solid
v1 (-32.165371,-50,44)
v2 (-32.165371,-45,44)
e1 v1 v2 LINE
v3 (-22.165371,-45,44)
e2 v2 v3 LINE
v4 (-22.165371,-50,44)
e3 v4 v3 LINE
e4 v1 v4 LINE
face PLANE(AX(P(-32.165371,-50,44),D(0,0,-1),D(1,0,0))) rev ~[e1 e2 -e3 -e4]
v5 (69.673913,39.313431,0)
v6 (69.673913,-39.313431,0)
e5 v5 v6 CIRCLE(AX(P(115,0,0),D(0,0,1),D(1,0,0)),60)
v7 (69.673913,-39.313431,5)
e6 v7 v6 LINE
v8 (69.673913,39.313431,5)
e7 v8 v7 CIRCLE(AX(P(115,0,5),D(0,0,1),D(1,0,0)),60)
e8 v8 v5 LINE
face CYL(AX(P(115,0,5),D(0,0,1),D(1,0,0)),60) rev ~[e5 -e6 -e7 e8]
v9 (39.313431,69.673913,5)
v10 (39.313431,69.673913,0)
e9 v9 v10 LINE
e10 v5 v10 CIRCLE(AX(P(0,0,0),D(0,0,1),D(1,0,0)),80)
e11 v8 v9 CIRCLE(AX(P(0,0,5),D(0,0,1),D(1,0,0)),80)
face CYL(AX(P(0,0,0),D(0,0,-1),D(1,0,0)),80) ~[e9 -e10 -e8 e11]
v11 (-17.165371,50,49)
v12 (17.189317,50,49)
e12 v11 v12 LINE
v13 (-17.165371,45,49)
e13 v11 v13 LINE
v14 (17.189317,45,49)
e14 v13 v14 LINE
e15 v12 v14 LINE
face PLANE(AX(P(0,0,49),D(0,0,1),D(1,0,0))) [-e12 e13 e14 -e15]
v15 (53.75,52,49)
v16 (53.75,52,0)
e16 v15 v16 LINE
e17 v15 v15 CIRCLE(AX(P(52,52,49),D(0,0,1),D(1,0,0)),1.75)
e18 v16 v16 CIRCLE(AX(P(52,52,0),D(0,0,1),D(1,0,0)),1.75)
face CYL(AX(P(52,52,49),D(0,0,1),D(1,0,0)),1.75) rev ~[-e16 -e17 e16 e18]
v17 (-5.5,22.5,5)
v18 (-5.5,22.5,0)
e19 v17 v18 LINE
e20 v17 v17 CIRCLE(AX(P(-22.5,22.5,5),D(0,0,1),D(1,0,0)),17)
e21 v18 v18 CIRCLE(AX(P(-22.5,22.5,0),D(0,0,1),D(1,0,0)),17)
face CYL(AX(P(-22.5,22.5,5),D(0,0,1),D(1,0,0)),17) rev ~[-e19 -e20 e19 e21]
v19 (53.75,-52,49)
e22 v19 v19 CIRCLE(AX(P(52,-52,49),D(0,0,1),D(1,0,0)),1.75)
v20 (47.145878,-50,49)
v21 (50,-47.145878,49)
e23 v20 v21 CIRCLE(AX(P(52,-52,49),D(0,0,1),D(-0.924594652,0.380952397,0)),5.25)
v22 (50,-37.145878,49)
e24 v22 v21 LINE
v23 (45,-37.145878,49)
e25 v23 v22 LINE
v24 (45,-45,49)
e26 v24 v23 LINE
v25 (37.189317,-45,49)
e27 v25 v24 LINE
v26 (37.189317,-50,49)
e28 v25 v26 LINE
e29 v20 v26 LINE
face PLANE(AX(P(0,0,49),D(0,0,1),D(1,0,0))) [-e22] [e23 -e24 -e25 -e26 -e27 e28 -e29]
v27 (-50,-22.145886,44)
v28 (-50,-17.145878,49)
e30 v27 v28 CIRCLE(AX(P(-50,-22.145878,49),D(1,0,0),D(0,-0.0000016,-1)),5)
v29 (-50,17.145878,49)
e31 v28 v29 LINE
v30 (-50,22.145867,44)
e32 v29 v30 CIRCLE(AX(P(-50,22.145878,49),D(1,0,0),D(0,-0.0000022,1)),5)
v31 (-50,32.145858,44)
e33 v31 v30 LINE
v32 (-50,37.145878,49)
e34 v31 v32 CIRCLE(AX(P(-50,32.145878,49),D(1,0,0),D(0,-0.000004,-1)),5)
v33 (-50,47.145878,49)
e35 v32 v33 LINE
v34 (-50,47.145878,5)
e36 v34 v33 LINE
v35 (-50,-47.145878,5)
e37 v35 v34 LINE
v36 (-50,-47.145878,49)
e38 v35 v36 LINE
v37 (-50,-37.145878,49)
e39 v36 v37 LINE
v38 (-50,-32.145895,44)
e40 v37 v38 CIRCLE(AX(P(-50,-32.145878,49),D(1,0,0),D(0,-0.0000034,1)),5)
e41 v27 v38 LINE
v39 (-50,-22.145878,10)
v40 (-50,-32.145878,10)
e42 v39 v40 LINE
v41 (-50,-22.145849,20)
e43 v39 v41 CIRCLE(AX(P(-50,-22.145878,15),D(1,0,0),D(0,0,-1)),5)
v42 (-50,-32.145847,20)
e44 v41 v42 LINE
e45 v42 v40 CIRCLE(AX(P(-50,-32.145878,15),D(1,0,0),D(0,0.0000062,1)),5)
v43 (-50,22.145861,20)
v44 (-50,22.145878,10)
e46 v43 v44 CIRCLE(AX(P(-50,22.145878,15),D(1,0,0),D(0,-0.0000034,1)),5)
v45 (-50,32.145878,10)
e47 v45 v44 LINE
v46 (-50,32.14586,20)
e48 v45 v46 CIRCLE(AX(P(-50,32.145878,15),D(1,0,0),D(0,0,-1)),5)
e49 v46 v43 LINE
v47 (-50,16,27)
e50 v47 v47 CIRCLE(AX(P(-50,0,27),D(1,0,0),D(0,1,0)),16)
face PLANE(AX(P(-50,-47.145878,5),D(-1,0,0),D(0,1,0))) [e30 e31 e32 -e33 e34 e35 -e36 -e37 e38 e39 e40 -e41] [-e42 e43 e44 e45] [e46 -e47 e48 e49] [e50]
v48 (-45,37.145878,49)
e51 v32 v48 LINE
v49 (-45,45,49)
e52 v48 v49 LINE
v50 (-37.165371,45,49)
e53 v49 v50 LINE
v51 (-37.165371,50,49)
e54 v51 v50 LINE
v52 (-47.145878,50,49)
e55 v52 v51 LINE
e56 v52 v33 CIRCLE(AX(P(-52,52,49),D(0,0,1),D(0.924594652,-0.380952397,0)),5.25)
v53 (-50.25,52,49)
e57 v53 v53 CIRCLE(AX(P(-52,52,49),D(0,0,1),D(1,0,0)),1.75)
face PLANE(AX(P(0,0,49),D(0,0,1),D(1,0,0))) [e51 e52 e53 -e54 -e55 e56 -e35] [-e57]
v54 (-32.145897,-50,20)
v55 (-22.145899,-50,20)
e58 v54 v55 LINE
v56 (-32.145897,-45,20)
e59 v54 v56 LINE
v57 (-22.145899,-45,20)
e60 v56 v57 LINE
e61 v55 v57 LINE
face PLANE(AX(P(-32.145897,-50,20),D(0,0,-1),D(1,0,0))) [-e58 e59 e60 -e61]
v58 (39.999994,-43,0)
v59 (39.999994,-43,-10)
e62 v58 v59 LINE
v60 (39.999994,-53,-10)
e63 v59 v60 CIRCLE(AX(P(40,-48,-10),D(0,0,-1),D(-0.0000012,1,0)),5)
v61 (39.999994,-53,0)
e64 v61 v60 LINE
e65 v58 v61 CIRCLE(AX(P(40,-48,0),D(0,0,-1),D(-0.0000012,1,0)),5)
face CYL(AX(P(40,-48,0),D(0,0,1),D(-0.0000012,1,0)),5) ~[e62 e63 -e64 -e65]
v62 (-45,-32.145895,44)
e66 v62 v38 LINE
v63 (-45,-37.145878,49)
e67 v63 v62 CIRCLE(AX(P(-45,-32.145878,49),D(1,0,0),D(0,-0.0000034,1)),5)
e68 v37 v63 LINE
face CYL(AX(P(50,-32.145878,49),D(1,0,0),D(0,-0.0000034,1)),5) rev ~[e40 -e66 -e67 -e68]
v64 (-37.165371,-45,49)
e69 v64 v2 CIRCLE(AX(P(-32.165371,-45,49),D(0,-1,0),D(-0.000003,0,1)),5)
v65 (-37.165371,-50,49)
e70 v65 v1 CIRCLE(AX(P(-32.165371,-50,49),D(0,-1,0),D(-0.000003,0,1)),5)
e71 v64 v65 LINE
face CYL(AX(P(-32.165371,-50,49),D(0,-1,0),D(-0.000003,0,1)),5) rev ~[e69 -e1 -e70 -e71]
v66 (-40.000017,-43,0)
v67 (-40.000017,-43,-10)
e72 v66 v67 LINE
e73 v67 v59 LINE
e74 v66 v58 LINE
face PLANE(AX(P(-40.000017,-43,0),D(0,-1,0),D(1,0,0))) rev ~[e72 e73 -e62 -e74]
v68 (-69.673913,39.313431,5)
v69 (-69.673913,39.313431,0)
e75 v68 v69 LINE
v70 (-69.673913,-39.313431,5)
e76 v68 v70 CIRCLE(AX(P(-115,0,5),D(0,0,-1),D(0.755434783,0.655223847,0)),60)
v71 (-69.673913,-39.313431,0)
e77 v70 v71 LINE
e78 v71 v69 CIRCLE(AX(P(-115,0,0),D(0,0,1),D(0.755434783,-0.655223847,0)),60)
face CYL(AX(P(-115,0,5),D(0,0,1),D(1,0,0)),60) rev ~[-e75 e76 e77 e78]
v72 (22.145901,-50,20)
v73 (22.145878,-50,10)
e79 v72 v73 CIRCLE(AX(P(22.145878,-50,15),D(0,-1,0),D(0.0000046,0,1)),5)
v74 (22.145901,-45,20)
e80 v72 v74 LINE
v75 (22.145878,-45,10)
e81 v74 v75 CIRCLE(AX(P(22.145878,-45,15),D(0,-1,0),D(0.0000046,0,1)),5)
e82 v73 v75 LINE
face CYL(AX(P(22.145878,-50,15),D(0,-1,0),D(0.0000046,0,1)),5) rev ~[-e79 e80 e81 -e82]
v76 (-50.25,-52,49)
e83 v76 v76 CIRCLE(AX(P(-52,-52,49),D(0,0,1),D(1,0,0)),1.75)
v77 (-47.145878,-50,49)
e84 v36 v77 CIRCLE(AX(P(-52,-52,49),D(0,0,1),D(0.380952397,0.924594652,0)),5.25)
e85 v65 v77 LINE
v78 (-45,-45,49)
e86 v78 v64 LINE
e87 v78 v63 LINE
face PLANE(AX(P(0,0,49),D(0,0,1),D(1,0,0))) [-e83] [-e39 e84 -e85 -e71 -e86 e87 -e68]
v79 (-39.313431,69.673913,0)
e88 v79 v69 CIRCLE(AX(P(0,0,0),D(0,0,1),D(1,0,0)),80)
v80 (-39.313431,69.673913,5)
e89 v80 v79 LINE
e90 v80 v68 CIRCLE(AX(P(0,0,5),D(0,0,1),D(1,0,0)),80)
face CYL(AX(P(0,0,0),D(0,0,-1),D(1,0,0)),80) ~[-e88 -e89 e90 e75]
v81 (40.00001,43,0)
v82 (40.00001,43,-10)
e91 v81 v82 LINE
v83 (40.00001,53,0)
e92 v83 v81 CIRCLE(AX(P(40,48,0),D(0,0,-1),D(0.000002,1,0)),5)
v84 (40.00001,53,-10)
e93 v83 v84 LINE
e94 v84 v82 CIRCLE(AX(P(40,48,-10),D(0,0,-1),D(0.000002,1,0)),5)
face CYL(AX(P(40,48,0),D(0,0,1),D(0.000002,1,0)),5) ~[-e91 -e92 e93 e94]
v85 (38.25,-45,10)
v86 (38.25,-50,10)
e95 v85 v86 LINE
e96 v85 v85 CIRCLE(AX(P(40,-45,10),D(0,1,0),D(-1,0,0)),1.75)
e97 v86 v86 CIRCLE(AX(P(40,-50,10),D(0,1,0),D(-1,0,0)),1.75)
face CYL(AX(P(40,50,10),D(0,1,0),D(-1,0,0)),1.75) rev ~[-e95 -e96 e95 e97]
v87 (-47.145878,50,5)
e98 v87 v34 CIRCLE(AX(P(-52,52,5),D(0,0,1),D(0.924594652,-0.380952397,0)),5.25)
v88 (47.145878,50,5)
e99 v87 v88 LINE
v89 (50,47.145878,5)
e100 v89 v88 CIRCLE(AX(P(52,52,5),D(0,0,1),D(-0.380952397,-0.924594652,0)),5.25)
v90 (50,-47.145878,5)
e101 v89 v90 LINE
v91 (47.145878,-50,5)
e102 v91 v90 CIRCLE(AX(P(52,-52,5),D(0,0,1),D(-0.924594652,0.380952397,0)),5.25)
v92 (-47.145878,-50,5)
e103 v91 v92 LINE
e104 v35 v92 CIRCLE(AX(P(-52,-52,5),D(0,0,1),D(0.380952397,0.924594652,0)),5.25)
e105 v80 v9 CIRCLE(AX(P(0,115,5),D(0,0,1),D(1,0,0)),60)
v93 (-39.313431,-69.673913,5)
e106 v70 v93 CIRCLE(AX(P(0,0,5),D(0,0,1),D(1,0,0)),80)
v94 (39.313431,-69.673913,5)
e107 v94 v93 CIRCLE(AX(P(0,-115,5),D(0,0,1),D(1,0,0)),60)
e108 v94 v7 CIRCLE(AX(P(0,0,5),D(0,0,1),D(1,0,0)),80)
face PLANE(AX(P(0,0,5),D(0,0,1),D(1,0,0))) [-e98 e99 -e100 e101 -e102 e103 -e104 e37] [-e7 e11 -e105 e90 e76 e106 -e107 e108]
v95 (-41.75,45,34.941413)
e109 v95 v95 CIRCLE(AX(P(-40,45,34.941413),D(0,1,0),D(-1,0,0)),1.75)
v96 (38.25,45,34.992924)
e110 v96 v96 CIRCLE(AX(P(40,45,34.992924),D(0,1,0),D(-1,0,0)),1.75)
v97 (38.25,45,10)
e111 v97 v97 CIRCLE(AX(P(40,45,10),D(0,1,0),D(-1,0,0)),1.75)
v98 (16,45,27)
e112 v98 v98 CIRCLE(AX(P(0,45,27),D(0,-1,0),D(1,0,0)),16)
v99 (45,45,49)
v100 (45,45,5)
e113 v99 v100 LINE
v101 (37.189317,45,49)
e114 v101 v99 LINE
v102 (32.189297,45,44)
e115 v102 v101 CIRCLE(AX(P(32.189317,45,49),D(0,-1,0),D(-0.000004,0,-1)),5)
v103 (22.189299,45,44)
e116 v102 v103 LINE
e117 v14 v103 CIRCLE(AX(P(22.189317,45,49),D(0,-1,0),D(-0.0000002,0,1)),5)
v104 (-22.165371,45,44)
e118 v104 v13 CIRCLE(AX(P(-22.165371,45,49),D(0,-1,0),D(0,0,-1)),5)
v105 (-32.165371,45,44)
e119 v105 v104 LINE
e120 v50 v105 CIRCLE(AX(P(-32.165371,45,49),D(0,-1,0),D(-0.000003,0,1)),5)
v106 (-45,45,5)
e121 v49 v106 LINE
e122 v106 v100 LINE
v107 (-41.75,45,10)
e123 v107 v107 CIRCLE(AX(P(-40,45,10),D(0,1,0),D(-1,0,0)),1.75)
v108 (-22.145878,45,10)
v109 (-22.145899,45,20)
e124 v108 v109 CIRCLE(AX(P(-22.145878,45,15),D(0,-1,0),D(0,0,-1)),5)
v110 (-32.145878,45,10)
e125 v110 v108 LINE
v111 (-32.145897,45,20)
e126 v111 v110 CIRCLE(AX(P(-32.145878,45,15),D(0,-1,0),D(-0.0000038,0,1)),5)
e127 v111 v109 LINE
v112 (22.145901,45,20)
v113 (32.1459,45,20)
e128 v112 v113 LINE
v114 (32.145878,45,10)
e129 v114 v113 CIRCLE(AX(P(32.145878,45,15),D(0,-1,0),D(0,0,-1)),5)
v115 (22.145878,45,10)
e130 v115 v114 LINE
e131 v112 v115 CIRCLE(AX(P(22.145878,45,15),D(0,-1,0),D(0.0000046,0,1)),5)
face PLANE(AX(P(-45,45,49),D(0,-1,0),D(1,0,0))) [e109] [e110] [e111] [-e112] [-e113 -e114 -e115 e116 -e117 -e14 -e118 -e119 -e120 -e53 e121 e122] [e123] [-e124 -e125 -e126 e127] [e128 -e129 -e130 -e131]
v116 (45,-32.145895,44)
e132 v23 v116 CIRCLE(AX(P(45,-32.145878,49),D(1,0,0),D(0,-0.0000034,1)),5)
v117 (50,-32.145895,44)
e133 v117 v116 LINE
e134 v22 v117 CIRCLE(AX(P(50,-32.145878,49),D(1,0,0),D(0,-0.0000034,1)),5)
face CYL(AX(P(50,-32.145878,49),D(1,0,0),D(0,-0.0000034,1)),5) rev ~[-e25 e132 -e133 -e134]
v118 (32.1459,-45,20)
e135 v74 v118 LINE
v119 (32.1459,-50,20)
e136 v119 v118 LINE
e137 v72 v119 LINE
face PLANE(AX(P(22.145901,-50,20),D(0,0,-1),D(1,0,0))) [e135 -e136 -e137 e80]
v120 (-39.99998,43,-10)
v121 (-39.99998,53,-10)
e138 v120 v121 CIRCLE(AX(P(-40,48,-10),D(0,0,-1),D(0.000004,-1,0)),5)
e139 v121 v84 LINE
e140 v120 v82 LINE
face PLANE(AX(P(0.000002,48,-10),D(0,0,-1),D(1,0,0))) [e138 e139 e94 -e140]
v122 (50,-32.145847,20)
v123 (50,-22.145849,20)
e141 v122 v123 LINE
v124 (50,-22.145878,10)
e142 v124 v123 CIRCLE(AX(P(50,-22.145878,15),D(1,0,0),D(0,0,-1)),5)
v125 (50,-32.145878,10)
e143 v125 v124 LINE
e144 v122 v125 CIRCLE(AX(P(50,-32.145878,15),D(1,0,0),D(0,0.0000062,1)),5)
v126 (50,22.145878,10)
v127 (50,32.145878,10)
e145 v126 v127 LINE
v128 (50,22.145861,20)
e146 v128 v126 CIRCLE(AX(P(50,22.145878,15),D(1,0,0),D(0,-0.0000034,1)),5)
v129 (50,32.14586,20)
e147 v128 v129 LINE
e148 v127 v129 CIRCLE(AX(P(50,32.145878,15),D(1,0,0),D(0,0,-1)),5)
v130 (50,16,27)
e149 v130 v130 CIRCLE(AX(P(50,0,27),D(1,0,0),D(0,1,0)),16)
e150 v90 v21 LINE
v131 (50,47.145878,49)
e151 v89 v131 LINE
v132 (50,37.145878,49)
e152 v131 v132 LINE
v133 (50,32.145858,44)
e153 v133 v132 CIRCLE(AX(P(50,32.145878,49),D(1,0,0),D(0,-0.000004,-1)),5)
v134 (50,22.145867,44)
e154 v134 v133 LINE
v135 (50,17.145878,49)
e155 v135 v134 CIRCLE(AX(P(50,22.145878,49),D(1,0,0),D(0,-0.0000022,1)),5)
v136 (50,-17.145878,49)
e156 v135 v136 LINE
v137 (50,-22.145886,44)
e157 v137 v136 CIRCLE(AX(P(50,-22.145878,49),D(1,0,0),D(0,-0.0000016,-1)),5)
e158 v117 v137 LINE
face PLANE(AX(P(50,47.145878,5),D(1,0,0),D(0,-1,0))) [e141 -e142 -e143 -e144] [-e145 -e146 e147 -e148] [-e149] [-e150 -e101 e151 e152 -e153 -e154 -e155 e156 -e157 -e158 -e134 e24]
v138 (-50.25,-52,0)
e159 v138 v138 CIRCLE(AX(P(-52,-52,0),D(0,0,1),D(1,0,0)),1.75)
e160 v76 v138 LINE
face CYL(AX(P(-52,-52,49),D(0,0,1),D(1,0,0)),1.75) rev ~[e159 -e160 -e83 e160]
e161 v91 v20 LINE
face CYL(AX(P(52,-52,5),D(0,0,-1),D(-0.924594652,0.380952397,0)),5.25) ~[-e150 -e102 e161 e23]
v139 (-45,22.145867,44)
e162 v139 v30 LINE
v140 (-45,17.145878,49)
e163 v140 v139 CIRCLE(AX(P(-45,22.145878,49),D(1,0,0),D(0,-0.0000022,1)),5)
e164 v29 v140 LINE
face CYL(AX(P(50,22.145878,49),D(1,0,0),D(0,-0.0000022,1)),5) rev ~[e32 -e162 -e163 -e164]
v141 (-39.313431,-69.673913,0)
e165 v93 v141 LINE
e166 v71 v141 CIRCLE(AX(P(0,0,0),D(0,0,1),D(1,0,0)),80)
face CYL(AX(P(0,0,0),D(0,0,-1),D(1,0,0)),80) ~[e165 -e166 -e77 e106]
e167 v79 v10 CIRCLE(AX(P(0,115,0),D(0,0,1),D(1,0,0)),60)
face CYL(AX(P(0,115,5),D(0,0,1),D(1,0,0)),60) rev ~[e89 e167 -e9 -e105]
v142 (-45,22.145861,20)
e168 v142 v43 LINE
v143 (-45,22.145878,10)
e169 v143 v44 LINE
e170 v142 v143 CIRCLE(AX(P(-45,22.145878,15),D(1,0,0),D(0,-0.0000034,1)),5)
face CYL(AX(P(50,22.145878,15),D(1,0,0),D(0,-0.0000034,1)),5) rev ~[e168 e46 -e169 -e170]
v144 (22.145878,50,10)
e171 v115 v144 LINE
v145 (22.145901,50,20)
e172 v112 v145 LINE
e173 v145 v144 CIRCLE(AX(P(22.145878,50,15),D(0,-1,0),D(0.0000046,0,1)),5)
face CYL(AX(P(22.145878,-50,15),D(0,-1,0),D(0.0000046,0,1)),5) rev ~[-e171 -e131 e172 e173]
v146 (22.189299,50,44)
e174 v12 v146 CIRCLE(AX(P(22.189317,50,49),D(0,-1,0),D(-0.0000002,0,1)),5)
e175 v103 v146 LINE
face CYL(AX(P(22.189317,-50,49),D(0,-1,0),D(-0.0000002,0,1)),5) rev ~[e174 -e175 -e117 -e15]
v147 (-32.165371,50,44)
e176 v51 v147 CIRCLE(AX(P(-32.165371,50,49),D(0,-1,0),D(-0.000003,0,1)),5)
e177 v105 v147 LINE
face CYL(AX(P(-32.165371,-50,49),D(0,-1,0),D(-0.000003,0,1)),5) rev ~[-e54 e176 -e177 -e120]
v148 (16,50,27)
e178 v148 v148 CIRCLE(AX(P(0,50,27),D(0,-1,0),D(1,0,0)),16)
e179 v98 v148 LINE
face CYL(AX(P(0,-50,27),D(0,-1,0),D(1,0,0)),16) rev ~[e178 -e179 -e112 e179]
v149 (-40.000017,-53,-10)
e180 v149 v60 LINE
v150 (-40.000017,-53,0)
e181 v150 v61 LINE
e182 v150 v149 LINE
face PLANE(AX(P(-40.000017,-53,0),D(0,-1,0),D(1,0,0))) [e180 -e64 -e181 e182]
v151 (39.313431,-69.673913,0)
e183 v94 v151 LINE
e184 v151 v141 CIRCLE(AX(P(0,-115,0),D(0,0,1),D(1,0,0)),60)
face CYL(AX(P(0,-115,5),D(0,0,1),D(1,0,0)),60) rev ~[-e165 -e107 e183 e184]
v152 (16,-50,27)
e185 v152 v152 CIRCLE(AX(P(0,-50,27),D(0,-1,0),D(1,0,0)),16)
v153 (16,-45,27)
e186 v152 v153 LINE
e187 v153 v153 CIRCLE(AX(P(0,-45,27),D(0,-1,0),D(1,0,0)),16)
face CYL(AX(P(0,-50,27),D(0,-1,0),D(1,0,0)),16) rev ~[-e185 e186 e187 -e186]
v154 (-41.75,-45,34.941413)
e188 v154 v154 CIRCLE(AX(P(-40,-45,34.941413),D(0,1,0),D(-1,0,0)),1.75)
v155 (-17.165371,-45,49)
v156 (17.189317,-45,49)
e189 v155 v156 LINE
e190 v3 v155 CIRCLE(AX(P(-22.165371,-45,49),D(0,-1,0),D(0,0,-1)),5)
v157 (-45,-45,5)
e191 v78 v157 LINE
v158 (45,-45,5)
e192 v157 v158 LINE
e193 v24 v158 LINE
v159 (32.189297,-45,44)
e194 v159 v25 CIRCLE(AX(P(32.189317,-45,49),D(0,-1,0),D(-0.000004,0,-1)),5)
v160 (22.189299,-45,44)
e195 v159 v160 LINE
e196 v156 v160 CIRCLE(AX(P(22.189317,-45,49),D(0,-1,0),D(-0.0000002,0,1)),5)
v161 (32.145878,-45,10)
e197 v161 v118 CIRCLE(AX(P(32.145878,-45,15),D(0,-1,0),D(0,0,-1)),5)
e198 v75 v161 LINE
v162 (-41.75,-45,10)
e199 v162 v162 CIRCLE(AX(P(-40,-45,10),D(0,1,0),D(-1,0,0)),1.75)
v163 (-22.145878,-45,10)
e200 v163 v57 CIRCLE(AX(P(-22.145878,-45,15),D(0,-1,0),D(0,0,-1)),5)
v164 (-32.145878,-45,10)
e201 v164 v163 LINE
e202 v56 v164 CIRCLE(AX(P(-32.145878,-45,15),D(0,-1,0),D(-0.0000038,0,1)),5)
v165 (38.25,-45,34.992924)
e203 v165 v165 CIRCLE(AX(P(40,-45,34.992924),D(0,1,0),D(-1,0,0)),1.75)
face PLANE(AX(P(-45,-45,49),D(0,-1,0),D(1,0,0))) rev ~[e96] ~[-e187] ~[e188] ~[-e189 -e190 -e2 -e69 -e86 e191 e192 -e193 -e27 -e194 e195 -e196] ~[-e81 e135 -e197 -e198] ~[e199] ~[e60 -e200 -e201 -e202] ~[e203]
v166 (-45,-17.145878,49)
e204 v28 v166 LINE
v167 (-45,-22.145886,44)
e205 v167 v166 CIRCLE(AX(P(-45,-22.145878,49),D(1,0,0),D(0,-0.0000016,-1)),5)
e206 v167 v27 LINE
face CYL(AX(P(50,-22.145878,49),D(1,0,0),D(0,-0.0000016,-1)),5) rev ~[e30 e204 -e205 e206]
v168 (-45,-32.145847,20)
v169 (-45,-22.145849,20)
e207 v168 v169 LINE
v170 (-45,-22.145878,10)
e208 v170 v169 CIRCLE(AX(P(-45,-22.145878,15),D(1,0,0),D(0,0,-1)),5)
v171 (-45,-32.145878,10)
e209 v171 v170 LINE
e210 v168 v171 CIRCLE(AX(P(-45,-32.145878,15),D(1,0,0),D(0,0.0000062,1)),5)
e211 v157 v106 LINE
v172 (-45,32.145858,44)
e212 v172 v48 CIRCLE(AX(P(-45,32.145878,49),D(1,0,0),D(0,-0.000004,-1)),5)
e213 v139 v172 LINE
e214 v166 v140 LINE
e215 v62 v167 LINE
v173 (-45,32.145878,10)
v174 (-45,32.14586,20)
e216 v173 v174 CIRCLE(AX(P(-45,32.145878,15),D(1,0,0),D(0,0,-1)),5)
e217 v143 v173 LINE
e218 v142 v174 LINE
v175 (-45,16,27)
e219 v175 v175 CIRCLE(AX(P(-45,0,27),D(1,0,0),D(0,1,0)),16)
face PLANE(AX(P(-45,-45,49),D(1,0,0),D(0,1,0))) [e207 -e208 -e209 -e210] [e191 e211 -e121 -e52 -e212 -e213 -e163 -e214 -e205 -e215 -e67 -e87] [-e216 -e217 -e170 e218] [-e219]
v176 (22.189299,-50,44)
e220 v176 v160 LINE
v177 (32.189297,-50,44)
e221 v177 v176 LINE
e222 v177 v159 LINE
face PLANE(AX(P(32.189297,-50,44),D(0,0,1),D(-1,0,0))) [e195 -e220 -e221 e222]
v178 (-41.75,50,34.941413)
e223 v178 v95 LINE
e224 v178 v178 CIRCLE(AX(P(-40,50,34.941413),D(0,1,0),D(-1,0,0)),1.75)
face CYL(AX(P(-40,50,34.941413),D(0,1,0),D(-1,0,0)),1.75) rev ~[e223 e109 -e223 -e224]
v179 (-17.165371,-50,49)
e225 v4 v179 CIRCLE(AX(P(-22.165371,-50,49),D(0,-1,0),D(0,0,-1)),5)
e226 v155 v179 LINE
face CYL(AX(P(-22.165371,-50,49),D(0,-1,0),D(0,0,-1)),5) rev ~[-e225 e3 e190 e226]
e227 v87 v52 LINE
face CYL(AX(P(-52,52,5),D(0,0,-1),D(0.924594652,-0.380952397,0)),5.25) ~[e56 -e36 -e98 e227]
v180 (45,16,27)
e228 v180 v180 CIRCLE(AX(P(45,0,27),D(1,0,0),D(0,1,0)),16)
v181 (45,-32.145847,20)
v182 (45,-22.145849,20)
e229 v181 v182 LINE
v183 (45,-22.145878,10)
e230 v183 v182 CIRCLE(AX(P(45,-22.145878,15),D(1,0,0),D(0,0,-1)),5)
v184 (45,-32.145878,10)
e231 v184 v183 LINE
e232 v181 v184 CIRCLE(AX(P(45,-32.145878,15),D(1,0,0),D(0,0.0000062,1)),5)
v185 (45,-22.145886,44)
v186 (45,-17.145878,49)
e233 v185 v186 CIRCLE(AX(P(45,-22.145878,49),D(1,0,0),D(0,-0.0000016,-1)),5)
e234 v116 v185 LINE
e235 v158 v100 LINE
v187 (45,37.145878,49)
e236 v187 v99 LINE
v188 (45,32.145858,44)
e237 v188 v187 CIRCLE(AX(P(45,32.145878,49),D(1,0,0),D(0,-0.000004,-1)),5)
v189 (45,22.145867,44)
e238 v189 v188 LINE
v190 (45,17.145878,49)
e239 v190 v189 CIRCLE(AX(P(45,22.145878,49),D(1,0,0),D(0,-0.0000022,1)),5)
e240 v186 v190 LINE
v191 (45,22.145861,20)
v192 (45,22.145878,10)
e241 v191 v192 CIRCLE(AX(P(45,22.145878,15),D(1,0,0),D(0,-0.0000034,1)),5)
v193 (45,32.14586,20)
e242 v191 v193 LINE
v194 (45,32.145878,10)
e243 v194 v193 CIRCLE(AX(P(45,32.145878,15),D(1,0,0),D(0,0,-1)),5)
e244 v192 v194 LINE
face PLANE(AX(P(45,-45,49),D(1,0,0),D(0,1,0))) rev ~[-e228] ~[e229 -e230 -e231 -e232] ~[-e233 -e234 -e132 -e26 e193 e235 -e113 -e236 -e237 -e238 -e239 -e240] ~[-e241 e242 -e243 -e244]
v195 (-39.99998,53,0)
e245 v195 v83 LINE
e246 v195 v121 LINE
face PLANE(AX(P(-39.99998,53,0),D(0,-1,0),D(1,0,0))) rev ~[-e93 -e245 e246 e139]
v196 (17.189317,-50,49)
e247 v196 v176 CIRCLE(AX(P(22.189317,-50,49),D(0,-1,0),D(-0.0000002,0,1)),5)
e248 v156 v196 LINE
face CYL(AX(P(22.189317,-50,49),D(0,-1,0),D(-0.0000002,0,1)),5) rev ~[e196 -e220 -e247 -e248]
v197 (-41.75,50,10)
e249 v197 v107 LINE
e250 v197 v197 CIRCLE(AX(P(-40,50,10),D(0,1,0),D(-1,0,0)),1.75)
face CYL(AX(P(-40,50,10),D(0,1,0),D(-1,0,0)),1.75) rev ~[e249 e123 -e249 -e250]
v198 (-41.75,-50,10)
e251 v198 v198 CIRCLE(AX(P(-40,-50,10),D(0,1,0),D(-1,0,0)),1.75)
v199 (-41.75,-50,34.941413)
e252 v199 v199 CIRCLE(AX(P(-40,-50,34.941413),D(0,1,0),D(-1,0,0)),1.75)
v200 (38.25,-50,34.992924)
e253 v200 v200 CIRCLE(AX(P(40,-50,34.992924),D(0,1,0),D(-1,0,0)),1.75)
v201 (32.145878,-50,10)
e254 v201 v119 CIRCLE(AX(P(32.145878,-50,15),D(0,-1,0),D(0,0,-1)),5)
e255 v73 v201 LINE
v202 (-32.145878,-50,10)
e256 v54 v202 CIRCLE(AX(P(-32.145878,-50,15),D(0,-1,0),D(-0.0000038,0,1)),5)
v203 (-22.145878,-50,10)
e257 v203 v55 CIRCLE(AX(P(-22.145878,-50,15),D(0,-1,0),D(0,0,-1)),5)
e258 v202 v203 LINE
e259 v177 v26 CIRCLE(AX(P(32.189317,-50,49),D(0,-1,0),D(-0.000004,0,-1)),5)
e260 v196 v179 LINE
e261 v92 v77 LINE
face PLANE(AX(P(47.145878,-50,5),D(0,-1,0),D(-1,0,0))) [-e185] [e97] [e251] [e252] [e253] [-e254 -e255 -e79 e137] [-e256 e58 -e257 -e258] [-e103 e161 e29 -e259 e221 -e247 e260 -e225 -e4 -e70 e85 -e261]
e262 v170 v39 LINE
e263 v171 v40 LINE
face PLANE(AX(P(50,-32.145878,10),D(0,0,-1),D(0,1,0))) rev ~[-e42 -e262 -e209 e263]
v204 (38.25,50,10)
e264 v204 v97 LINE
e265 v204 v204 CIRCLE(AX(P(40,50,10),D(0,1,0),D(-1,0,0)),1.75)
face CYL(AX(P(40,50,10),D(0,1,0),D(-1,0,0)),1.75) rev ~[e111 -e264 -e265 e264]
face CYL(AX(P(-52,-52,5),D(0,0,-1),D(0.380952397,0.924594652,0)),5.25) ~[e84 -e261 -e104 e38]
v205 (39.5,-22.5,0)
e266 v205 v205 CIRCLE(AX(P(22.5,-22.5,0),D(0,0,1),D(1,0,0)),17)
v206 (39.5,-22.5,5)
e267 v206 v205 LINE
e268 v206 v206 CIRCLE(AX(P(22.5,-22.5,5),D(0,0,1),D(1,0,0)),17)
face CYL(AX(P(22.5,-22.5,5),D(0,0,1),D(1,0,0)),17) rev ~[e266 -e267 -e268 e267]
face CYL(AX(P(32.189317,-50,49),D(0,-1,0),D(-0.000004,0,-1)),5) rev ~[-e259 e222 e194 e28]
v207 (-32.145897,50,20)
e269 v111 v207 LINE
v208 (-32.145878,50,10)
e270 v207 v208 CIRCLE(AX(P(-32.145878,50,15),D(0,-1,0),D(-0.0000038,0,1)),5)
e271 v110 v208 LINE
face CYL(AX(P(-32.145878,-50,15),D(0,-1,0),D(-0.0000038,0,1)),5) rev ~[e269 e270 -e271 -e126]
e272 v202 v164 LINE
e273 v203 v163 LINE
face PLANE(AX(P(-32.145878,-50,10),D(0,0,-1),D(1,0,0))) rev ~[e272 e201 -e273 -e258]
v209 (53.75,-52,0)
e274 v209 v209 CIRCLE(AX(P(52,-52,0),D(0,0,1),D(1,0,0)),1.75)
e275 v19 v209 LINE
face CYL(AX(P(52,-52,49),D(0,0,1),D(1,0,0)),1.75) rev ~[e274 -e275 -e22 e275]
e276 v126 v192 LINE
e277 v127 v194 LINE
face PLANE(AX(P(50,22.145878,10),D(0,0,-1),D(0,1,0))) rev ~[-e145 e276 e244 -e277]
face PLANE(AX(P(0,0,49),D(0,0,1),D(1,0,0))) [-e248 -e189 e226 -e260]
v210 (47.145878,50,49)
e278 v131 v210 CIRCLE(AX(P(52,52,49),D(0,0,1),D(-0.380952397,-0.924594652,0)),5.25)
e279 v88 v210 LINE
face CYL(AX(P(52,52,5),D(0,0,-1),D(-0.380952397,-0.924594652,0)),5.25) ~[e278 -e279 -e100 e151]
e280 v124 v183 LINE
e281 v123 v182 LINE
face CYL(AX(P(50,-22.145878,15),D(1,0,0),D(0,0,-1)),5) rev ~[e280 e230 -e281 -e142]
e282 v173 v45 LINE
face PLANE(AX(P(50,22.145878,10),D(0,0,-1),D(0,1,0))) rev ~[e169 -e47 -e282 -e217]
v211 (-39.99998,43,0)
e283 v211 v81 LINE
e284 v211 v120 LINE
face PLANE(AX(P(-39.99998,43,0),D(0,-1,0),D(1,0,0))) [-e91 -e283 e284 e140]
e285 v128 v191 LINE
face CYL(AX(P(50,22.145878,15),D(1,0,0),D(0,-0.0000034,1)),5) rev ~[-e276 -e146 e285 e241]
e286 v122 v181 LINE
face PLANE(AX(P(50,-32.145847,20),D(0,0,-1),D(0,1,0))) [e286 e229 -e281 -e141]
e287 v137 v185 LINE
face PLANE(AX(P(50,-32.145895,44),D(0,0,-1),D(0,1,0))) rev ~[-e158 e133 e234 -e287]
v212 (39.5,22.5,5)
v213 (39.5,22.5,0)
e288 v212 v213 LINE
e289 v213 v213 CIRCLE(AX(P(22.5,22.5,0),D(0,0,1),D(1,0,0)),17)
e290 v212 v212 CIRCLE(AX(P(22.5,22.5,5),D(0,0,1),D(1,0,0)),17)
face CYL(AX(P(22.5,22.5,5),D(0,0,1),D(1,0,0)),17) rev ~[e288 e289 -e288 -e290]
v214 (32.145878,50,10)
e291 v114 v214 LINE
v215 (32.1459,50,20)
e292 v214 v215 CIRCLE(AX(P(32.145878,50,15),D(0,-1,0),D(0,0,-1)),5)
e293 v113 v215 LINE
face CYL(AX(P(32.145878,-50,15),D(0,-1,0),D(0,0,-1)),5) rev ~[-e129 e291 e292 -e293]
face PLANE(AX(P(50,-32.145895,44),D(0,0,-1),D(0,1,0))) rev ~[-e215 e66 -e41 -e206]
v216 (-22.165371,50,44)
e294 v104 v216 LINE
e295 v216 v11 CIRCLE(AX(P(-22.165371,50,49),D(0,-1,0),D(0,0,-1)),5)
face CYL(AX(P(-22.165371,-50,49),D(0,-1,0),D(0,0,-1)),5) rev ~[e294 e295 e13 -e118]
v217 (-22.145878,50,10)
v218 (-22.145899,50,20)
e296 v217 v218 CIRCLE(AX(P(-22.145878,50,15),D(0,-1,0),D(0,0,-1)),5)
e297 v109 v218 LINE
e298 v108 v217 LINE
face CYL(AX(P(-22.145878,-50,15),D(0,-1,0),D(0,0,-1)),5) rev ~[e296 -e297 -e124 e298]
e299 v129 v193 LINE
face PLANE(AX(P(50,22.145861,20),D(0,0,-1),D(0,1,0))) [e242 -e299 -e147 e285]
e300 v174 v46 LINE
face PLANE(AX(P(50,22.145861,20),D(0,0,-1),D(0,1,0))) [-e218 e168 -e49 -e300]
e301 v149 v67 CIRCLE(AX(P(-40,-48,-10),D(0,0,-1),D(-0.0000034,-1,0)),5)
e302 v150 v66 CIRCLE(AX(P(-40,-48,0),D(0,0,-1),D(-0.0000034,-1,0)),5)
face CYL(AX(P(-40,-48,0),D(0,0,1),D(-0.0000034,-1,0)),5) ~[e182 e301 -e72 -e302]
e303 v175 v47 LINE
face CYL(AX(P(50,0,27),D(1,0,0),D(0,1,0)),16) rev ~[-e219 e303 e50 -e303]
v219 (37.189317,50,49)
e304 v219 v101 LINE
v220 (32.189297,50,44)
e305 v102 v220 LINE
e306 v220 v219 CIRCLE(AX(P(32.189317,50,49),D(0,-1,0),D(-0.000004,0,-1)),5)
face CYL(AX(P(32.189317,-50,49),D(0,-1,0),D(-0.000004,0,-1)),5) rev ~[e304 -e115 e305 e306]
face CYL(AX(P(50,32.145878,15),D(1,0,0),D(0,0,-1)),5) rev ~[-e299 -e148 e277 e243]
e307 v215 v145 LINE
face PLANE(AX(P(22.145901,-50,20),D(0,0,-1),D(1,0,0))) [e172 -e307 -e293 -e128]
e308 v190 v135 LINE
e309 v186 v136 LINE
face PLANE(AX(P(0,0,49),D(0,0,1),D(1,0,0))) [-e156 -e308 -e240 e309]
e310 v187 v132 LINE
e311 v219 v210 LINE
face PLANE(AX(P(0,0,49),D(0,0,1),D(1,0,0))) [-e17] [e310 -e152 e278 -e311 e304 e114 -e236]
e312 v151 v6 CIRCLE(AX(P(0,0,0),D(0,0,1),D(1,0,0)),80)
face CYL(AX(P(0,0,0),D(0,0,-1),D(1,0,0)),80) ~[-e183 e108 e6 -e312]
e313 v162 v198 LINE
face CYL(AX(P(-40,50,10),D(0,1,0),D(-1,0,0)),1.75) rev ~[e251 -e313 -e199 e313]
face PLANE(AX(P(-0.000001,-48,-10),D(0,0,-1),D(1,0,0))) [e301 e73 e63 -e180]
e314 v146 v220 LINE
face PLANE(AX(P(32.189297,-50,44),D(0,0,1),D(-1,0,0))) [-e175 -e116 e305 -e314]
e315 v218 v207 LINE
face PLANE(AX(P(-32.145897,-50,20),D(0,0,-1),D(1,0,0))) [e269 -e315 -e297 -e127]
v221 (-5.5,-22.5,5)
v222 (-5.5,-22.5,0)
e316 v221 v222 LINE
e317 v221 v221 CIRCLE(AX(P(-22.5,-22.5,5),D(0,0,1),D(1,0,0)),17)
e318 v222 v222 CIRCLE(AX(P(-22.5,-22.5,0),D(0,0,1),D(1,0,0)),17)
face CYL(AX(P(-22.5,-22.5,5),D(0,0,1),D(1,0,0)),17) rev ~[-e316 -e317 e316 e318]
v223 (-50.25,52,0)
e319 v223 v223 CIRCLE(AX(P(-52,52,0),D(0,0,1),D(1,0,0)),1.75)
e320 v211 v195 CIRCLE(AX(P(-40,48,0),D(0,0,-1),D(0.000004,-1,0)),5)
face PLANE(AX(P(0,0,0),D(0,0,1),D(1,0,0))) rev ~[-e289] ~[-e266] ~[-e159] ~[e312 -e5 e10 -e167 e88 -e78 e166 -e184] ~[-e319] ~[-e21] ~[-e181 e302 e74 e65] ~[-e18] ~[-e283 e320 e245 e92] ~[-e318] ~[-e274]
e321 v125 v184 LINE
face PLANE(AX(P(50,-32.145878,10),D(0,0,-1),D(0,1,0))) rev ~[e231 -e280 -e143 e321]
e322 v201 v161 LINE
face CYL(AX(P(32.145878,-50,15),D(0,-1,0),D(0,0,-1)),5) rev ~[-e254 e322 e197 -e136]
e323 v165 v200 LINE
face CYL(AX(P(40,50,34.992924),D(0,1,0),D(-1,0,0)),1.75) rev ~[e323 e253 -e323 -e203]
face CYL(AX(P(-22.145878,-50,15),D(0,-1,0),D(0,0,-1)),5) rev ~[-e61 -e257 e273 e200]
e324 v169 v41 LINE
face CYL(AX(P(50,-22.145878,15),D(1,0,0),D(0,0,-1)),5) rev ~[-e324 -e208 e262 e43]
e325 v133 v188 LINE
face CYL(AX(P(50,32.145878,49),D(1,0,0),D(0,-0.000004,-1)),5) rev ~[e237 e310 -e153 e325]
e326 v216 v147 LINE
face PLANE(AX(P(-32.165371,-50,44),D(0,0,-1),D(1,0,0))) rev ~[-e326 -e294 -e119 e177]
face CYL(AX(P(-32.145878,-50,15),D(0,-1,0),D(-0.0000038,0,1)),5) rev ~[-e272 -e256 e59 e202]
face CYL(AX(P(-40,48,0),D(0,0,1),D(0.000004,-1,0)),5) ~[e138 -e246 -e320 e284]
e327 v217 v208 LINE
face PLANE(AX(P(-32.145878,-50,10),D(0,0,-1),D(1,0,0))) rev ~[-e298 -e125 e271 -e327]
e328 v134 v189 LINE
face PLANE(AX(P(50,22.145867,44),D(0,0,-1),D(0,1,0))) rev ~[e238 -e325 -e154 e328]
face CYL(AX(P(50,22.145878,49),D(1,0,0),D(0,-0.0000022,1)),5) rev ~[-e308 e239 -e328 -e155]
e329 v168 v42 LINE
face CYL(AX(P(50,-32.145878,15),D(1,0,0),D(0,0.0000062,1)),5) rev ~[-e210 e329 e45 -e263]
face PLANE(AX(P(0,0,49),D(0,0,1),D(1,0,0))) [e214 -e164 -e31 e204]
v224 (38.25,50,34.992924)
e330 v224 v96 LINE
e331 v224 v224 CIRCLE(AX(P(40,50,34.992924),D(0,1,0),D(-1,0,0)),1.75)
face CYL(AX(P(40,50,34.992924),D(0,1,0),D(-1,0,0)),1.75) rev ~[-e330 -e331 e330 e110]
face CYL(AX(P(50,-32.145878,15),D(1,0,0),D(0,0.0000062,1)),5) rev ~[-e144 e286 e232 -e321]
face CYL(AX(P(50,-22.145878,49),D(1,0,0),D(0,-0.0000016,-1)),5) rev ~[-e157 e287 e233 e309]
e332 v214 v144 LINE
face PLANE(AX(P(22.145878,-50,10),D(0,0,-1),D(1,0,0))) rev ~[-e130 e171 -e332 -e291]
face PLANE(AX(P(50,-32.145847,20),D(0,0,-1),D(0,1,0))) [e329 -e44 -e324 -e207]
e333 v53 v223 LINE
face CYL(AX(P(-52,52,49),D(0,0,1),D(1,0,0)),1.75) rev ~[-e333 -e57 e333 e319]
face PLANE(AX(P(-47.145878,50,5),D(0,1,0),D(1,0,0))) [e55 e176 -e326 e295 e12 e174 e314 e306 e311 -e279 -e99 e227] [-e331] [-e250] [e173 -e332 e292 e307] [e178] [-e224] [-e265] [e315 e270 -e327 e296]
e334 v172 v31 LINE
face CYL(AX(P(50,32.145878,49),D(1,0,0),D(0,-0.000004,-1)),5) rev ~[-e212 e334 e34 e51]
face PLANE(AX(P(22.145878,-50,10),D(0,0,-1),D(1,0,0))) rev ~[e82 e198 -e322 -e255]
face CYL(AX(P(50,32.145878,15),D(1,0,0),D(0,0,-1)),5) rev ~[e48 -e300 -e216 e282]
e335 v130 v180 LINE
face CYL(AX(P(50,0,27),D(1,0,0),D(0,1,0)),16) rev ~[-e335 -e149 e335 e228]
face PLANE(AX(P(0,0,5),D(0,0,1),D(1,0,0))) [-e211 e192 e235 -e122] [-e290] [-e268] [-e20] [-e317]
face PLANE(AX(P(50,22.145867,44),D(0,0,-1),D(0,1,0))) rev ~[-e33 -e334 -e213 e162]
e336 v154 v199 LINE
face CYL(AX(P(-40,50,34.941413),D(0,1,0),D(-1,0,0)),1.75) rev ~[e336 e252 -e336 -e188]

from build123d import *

# Parameters (mm, degrees)
SKETCH_R        = 80
PAD_DEPTH       = 5
PAD001_DEPTH    = 44
SKETCH003_W     = 90
SKETCH003_H     = 90
POCKET_DEPTH    = 44
SKETCH004_R     = 1.75
POCKET001_DEPTH = 49.001
SKETCH005_R     = 17
SKETCH005_R_2   = 60
POCKET002_DEPTH = 5.001
SKETCH006_R     = 16
POCKET003_DEPTH = 119.674913
SKETCH007_R     = 16
POCKET004_DEPTH = 119.674913
SKETCH010_R     = 1.75
POCKET005_DEPTH = 119.674913
PAD002_DEPTH    = 10


with BuildPart() as part:
    # Sketch → Pad (new body)
    with BuildSketch(Plane.XY):
        Circle(SKETCH_R)
    extrude(amount=PAD_DEPTH)

    # Sketch002 → Pad001 (new body)
    with BuildSketch(Plane.XY.offset(5)):
        with BuildLine():
            ThreePointArc((-47.145878, 50), (-55.712311, 55.712311), (-50, 47.145878))
            Line((-50, -47.145878), (-50, 47.145878))
            ThreePointArc((-50, -47.145878), (-55.712311, -55.712311), (-47.145878, -50))
            Line((47.145878, -50), (-47.145878, -50))
            ThreePointArc((47.145878, -50), (55.712311, -55.712311), (50, -47.145878))
            Line((50, 47.145878), (50, -47.145878))
            ThreePointArc((50, 47.145878), (55.712311, 55.712311), (47.145878, 50))
            Line((-47.145878, 50), (47.145878, 50))
        make_face()
    extrude(amount=PAD001_DEPTH)

    # Sketch003 → Pocket (cut)
    with BuildSketch(Plane.XY.offset(49)):
        Rectangle(SKETCH003_W, SKETCH003_H)
    extrude(amount=-POCKET_DEPTH, mode=Mode.SUBTRACT)

    # Sketch004 → Pocket001 (cut, through all)
    with BuildSketch(Plane.XY.offset(49)):
        with Locations((-52, -52)):
            Circle(SKETCH004_R)
        with Locations((52, 52)):
            Circle(SKETCH004_R)
        with Locations((52, -52)):
            Circle(SKETCH004_R)
        with Locations((-52, 52)):
            Circle(SKETCH004_R)
    extrude(amount=-POCKET001_DEPTH, mode=Mode.SUBTRACT)

    # Sketch005 → Pocket002 (cut, through all)
    with BuildSketch(Plane.XY.offset(5)):
        with Locations((-22.5, 22.5)):
            Circle(SKETCH005_R)
        with Locations((22.5, 22.5)):
            Circle(SKETCH005_R)
        with Locations((-22.5, -22.5)):
            Circle(SKETCH005_R)
        with Locations((22.5, -22.5)):
            Circle(SKETCH005_R)
        with Locations((0, -115)):
            Circle(SKETCH005_R_2)
        with Locations((-115, 0)):
            Circle(SKETCH005_R_2)
        with Locations((115, 0)):
            Circle(SKETCH005_R_2)
        with Locations((0, 115)):
            Circle(SKETCH005_R_2)
    extrude(amount=-POCKET002_DEPTH, mode=Mode.SUBTRACT)

    # Sketch006 → Pocket003 (cut, through all)
    with BuildSketch(Plane.YZ.offset(50)):
        with Locations((0, 27)):
            Circle(SKETCH006_R)
        with BuildLine():
            ThreePointArc((-32.145847, 20), (-37.145878, 15.000015), (-32.145878, 10))
            Line((-32.145878, 10), (-22.145878, 10))
            ThreePointArc((-22.145878, 10), (-17.145878, 14.999986), (-22.145849, 20))
            Line((-32.145847, 20), (-22.145849, 20))
        make_face()
        with BuildLine():
            ThreePointArc((22.145861, 20), (17.145878, 14.999992), (22.145878, 10))
            Line((22.145878, 10), (32.145878, 10))
            ThreePointArc((32.145878, 10), (37.145878, 15.000009), (32.14586, 20))
            Line((22.145861, 20), (32.14586, 20))
        make_face()
        with BuildLine():
            ThreePointArc((-32.145895, 54), (-37.145878, 49), (-32.145895, 44))
            Line((-32.145895, 44), (-22.145886, 44))
            ThreePointArc((-22.145886, 44), (-17.145878, 48.999999), (-22.145885, 54))
            Line((-32.145895, 54), (-22.145885, 54))
        make_face()
        with BuildLine():
            ThreePointArc((22.145867, 54), (17.145878, 49), (22.145867, 44))
            Line((22.145867, 44), (32.145858, 44))
            ThreePointArc((32.145858, 44), (37.145878, 49), (32.145857, 54))
            Line((22.145867, 54), (32.145857, 54))
        make_face()
    extrude(amount=-POCKET003_DEPTH, mode=Mode.SUBTRACT)

    # Sketch007 → Pocket004 (cut, through all)
    with BuildSketch(Plane.XZ.offset(50)):
        with Locations((0, 27)):
            Circle(SKETCH007_R)
        with BuildLine():
            ThreePointArc((-32.165386, 54), (-37.165371, 48.999992), (-32.165371, 44))
            Line((-32.165371, 44), (-22.165371, 44))
            ThreePointArc((-22.165371, 44), (-17.165371, 49.000008), (-22.165388, 54))
            Line((-32.165386, 54), (-22.165388, 54))
        make_face()
        with BuildLine():
            ThreePointArc((32.189297, 44), (37.189317, 48.99999), (32.189316, 54))
            Line((32.189316, 54), (22.189316, 54))
            ThreePointArc((22.189316, 54), (17.189317, 49.000008), (22.189299, 44))
            Line((32.189297, 44), (22.189299, 44))
        make_face()
        with BuildLine():
            ThreePointArc((-32.145897, 20), (-37.145878, 14.99999), (-32.145878, 10))
            Line((-32.145878, 10), (-22.145878, 10))
            ThreePointArc((-22.145878, 10), (-17.145878, 15.000011), (-22.145899, 20))
            Line((-32.145897, 20), (-22.145899, 20))
        make_face()
        with BuildLine():
            ThreePointArc((22.145901, 20), (17.145878, 15.000011), (22.145878, 10))
            Line((22.145878, 10), (32.145878, 10))
            ThreePointArc((32.145878, 10), (37.145878, 14.999989), (32.1459, 20))
            Line((22.145901, 20), (32.1459, 20))
        make_face()
    extrude(amount=-POCKET004_DEPTH, mode=Mode.SUBTRACT)

    # Sketch010 → Pocket005 (cut, through all)
    with BuildSketch(Plane(origin=(0, 50, 0), x_dir=(-1, 0, 0), z_dir=(0, 1, 0))):
        with Locations((-40, 34.992924)):
            Circle(SKETCH010_R)
        with Locations((-40, 10)):
            Circle(SKETCH010_R)
        with Locations((40, 10)):
            Circle(SKETCH010_R)
        with Locations((40, 34.941413)):
            Circle(SKETCH010_R)
    extrude(amount=-POCKET005_DEPTH, mode=Mode.SUBTRACT)

    # Sketch008 → Pad002 (new body)
    with BuildSketch(Plane(origin=(0, 0, 0), x_dir=(1, 0, 0), z_dir=(0, 0, -1))):
        with BuildLine():
            ThreePointArc((-40.000017, 53), (-45, 48), (-40.000017, 43))
            Line((-40.000017, 43), (39.999994, 43))
            ThreePointArc((39.999994, 43), (45, 48), (39.999994, 53))
            Line((-40.000017, 53), (39.999994, 53))
        make_face()
        with BuildLine():
            ThreePointArc((-39.99998, -43), (-45, -48), (-39.99998, -53))
            Line((-39.99998, -53), (40.00001, -53))
            ThreePointArc((40.00001, -53), (45, -48), (40.00001, -43))
            Line((-39.99998, -43), (40.00001, -43))
        make_face()
    extrude(amount=PAD002_DEPTH)


solid = part.part
